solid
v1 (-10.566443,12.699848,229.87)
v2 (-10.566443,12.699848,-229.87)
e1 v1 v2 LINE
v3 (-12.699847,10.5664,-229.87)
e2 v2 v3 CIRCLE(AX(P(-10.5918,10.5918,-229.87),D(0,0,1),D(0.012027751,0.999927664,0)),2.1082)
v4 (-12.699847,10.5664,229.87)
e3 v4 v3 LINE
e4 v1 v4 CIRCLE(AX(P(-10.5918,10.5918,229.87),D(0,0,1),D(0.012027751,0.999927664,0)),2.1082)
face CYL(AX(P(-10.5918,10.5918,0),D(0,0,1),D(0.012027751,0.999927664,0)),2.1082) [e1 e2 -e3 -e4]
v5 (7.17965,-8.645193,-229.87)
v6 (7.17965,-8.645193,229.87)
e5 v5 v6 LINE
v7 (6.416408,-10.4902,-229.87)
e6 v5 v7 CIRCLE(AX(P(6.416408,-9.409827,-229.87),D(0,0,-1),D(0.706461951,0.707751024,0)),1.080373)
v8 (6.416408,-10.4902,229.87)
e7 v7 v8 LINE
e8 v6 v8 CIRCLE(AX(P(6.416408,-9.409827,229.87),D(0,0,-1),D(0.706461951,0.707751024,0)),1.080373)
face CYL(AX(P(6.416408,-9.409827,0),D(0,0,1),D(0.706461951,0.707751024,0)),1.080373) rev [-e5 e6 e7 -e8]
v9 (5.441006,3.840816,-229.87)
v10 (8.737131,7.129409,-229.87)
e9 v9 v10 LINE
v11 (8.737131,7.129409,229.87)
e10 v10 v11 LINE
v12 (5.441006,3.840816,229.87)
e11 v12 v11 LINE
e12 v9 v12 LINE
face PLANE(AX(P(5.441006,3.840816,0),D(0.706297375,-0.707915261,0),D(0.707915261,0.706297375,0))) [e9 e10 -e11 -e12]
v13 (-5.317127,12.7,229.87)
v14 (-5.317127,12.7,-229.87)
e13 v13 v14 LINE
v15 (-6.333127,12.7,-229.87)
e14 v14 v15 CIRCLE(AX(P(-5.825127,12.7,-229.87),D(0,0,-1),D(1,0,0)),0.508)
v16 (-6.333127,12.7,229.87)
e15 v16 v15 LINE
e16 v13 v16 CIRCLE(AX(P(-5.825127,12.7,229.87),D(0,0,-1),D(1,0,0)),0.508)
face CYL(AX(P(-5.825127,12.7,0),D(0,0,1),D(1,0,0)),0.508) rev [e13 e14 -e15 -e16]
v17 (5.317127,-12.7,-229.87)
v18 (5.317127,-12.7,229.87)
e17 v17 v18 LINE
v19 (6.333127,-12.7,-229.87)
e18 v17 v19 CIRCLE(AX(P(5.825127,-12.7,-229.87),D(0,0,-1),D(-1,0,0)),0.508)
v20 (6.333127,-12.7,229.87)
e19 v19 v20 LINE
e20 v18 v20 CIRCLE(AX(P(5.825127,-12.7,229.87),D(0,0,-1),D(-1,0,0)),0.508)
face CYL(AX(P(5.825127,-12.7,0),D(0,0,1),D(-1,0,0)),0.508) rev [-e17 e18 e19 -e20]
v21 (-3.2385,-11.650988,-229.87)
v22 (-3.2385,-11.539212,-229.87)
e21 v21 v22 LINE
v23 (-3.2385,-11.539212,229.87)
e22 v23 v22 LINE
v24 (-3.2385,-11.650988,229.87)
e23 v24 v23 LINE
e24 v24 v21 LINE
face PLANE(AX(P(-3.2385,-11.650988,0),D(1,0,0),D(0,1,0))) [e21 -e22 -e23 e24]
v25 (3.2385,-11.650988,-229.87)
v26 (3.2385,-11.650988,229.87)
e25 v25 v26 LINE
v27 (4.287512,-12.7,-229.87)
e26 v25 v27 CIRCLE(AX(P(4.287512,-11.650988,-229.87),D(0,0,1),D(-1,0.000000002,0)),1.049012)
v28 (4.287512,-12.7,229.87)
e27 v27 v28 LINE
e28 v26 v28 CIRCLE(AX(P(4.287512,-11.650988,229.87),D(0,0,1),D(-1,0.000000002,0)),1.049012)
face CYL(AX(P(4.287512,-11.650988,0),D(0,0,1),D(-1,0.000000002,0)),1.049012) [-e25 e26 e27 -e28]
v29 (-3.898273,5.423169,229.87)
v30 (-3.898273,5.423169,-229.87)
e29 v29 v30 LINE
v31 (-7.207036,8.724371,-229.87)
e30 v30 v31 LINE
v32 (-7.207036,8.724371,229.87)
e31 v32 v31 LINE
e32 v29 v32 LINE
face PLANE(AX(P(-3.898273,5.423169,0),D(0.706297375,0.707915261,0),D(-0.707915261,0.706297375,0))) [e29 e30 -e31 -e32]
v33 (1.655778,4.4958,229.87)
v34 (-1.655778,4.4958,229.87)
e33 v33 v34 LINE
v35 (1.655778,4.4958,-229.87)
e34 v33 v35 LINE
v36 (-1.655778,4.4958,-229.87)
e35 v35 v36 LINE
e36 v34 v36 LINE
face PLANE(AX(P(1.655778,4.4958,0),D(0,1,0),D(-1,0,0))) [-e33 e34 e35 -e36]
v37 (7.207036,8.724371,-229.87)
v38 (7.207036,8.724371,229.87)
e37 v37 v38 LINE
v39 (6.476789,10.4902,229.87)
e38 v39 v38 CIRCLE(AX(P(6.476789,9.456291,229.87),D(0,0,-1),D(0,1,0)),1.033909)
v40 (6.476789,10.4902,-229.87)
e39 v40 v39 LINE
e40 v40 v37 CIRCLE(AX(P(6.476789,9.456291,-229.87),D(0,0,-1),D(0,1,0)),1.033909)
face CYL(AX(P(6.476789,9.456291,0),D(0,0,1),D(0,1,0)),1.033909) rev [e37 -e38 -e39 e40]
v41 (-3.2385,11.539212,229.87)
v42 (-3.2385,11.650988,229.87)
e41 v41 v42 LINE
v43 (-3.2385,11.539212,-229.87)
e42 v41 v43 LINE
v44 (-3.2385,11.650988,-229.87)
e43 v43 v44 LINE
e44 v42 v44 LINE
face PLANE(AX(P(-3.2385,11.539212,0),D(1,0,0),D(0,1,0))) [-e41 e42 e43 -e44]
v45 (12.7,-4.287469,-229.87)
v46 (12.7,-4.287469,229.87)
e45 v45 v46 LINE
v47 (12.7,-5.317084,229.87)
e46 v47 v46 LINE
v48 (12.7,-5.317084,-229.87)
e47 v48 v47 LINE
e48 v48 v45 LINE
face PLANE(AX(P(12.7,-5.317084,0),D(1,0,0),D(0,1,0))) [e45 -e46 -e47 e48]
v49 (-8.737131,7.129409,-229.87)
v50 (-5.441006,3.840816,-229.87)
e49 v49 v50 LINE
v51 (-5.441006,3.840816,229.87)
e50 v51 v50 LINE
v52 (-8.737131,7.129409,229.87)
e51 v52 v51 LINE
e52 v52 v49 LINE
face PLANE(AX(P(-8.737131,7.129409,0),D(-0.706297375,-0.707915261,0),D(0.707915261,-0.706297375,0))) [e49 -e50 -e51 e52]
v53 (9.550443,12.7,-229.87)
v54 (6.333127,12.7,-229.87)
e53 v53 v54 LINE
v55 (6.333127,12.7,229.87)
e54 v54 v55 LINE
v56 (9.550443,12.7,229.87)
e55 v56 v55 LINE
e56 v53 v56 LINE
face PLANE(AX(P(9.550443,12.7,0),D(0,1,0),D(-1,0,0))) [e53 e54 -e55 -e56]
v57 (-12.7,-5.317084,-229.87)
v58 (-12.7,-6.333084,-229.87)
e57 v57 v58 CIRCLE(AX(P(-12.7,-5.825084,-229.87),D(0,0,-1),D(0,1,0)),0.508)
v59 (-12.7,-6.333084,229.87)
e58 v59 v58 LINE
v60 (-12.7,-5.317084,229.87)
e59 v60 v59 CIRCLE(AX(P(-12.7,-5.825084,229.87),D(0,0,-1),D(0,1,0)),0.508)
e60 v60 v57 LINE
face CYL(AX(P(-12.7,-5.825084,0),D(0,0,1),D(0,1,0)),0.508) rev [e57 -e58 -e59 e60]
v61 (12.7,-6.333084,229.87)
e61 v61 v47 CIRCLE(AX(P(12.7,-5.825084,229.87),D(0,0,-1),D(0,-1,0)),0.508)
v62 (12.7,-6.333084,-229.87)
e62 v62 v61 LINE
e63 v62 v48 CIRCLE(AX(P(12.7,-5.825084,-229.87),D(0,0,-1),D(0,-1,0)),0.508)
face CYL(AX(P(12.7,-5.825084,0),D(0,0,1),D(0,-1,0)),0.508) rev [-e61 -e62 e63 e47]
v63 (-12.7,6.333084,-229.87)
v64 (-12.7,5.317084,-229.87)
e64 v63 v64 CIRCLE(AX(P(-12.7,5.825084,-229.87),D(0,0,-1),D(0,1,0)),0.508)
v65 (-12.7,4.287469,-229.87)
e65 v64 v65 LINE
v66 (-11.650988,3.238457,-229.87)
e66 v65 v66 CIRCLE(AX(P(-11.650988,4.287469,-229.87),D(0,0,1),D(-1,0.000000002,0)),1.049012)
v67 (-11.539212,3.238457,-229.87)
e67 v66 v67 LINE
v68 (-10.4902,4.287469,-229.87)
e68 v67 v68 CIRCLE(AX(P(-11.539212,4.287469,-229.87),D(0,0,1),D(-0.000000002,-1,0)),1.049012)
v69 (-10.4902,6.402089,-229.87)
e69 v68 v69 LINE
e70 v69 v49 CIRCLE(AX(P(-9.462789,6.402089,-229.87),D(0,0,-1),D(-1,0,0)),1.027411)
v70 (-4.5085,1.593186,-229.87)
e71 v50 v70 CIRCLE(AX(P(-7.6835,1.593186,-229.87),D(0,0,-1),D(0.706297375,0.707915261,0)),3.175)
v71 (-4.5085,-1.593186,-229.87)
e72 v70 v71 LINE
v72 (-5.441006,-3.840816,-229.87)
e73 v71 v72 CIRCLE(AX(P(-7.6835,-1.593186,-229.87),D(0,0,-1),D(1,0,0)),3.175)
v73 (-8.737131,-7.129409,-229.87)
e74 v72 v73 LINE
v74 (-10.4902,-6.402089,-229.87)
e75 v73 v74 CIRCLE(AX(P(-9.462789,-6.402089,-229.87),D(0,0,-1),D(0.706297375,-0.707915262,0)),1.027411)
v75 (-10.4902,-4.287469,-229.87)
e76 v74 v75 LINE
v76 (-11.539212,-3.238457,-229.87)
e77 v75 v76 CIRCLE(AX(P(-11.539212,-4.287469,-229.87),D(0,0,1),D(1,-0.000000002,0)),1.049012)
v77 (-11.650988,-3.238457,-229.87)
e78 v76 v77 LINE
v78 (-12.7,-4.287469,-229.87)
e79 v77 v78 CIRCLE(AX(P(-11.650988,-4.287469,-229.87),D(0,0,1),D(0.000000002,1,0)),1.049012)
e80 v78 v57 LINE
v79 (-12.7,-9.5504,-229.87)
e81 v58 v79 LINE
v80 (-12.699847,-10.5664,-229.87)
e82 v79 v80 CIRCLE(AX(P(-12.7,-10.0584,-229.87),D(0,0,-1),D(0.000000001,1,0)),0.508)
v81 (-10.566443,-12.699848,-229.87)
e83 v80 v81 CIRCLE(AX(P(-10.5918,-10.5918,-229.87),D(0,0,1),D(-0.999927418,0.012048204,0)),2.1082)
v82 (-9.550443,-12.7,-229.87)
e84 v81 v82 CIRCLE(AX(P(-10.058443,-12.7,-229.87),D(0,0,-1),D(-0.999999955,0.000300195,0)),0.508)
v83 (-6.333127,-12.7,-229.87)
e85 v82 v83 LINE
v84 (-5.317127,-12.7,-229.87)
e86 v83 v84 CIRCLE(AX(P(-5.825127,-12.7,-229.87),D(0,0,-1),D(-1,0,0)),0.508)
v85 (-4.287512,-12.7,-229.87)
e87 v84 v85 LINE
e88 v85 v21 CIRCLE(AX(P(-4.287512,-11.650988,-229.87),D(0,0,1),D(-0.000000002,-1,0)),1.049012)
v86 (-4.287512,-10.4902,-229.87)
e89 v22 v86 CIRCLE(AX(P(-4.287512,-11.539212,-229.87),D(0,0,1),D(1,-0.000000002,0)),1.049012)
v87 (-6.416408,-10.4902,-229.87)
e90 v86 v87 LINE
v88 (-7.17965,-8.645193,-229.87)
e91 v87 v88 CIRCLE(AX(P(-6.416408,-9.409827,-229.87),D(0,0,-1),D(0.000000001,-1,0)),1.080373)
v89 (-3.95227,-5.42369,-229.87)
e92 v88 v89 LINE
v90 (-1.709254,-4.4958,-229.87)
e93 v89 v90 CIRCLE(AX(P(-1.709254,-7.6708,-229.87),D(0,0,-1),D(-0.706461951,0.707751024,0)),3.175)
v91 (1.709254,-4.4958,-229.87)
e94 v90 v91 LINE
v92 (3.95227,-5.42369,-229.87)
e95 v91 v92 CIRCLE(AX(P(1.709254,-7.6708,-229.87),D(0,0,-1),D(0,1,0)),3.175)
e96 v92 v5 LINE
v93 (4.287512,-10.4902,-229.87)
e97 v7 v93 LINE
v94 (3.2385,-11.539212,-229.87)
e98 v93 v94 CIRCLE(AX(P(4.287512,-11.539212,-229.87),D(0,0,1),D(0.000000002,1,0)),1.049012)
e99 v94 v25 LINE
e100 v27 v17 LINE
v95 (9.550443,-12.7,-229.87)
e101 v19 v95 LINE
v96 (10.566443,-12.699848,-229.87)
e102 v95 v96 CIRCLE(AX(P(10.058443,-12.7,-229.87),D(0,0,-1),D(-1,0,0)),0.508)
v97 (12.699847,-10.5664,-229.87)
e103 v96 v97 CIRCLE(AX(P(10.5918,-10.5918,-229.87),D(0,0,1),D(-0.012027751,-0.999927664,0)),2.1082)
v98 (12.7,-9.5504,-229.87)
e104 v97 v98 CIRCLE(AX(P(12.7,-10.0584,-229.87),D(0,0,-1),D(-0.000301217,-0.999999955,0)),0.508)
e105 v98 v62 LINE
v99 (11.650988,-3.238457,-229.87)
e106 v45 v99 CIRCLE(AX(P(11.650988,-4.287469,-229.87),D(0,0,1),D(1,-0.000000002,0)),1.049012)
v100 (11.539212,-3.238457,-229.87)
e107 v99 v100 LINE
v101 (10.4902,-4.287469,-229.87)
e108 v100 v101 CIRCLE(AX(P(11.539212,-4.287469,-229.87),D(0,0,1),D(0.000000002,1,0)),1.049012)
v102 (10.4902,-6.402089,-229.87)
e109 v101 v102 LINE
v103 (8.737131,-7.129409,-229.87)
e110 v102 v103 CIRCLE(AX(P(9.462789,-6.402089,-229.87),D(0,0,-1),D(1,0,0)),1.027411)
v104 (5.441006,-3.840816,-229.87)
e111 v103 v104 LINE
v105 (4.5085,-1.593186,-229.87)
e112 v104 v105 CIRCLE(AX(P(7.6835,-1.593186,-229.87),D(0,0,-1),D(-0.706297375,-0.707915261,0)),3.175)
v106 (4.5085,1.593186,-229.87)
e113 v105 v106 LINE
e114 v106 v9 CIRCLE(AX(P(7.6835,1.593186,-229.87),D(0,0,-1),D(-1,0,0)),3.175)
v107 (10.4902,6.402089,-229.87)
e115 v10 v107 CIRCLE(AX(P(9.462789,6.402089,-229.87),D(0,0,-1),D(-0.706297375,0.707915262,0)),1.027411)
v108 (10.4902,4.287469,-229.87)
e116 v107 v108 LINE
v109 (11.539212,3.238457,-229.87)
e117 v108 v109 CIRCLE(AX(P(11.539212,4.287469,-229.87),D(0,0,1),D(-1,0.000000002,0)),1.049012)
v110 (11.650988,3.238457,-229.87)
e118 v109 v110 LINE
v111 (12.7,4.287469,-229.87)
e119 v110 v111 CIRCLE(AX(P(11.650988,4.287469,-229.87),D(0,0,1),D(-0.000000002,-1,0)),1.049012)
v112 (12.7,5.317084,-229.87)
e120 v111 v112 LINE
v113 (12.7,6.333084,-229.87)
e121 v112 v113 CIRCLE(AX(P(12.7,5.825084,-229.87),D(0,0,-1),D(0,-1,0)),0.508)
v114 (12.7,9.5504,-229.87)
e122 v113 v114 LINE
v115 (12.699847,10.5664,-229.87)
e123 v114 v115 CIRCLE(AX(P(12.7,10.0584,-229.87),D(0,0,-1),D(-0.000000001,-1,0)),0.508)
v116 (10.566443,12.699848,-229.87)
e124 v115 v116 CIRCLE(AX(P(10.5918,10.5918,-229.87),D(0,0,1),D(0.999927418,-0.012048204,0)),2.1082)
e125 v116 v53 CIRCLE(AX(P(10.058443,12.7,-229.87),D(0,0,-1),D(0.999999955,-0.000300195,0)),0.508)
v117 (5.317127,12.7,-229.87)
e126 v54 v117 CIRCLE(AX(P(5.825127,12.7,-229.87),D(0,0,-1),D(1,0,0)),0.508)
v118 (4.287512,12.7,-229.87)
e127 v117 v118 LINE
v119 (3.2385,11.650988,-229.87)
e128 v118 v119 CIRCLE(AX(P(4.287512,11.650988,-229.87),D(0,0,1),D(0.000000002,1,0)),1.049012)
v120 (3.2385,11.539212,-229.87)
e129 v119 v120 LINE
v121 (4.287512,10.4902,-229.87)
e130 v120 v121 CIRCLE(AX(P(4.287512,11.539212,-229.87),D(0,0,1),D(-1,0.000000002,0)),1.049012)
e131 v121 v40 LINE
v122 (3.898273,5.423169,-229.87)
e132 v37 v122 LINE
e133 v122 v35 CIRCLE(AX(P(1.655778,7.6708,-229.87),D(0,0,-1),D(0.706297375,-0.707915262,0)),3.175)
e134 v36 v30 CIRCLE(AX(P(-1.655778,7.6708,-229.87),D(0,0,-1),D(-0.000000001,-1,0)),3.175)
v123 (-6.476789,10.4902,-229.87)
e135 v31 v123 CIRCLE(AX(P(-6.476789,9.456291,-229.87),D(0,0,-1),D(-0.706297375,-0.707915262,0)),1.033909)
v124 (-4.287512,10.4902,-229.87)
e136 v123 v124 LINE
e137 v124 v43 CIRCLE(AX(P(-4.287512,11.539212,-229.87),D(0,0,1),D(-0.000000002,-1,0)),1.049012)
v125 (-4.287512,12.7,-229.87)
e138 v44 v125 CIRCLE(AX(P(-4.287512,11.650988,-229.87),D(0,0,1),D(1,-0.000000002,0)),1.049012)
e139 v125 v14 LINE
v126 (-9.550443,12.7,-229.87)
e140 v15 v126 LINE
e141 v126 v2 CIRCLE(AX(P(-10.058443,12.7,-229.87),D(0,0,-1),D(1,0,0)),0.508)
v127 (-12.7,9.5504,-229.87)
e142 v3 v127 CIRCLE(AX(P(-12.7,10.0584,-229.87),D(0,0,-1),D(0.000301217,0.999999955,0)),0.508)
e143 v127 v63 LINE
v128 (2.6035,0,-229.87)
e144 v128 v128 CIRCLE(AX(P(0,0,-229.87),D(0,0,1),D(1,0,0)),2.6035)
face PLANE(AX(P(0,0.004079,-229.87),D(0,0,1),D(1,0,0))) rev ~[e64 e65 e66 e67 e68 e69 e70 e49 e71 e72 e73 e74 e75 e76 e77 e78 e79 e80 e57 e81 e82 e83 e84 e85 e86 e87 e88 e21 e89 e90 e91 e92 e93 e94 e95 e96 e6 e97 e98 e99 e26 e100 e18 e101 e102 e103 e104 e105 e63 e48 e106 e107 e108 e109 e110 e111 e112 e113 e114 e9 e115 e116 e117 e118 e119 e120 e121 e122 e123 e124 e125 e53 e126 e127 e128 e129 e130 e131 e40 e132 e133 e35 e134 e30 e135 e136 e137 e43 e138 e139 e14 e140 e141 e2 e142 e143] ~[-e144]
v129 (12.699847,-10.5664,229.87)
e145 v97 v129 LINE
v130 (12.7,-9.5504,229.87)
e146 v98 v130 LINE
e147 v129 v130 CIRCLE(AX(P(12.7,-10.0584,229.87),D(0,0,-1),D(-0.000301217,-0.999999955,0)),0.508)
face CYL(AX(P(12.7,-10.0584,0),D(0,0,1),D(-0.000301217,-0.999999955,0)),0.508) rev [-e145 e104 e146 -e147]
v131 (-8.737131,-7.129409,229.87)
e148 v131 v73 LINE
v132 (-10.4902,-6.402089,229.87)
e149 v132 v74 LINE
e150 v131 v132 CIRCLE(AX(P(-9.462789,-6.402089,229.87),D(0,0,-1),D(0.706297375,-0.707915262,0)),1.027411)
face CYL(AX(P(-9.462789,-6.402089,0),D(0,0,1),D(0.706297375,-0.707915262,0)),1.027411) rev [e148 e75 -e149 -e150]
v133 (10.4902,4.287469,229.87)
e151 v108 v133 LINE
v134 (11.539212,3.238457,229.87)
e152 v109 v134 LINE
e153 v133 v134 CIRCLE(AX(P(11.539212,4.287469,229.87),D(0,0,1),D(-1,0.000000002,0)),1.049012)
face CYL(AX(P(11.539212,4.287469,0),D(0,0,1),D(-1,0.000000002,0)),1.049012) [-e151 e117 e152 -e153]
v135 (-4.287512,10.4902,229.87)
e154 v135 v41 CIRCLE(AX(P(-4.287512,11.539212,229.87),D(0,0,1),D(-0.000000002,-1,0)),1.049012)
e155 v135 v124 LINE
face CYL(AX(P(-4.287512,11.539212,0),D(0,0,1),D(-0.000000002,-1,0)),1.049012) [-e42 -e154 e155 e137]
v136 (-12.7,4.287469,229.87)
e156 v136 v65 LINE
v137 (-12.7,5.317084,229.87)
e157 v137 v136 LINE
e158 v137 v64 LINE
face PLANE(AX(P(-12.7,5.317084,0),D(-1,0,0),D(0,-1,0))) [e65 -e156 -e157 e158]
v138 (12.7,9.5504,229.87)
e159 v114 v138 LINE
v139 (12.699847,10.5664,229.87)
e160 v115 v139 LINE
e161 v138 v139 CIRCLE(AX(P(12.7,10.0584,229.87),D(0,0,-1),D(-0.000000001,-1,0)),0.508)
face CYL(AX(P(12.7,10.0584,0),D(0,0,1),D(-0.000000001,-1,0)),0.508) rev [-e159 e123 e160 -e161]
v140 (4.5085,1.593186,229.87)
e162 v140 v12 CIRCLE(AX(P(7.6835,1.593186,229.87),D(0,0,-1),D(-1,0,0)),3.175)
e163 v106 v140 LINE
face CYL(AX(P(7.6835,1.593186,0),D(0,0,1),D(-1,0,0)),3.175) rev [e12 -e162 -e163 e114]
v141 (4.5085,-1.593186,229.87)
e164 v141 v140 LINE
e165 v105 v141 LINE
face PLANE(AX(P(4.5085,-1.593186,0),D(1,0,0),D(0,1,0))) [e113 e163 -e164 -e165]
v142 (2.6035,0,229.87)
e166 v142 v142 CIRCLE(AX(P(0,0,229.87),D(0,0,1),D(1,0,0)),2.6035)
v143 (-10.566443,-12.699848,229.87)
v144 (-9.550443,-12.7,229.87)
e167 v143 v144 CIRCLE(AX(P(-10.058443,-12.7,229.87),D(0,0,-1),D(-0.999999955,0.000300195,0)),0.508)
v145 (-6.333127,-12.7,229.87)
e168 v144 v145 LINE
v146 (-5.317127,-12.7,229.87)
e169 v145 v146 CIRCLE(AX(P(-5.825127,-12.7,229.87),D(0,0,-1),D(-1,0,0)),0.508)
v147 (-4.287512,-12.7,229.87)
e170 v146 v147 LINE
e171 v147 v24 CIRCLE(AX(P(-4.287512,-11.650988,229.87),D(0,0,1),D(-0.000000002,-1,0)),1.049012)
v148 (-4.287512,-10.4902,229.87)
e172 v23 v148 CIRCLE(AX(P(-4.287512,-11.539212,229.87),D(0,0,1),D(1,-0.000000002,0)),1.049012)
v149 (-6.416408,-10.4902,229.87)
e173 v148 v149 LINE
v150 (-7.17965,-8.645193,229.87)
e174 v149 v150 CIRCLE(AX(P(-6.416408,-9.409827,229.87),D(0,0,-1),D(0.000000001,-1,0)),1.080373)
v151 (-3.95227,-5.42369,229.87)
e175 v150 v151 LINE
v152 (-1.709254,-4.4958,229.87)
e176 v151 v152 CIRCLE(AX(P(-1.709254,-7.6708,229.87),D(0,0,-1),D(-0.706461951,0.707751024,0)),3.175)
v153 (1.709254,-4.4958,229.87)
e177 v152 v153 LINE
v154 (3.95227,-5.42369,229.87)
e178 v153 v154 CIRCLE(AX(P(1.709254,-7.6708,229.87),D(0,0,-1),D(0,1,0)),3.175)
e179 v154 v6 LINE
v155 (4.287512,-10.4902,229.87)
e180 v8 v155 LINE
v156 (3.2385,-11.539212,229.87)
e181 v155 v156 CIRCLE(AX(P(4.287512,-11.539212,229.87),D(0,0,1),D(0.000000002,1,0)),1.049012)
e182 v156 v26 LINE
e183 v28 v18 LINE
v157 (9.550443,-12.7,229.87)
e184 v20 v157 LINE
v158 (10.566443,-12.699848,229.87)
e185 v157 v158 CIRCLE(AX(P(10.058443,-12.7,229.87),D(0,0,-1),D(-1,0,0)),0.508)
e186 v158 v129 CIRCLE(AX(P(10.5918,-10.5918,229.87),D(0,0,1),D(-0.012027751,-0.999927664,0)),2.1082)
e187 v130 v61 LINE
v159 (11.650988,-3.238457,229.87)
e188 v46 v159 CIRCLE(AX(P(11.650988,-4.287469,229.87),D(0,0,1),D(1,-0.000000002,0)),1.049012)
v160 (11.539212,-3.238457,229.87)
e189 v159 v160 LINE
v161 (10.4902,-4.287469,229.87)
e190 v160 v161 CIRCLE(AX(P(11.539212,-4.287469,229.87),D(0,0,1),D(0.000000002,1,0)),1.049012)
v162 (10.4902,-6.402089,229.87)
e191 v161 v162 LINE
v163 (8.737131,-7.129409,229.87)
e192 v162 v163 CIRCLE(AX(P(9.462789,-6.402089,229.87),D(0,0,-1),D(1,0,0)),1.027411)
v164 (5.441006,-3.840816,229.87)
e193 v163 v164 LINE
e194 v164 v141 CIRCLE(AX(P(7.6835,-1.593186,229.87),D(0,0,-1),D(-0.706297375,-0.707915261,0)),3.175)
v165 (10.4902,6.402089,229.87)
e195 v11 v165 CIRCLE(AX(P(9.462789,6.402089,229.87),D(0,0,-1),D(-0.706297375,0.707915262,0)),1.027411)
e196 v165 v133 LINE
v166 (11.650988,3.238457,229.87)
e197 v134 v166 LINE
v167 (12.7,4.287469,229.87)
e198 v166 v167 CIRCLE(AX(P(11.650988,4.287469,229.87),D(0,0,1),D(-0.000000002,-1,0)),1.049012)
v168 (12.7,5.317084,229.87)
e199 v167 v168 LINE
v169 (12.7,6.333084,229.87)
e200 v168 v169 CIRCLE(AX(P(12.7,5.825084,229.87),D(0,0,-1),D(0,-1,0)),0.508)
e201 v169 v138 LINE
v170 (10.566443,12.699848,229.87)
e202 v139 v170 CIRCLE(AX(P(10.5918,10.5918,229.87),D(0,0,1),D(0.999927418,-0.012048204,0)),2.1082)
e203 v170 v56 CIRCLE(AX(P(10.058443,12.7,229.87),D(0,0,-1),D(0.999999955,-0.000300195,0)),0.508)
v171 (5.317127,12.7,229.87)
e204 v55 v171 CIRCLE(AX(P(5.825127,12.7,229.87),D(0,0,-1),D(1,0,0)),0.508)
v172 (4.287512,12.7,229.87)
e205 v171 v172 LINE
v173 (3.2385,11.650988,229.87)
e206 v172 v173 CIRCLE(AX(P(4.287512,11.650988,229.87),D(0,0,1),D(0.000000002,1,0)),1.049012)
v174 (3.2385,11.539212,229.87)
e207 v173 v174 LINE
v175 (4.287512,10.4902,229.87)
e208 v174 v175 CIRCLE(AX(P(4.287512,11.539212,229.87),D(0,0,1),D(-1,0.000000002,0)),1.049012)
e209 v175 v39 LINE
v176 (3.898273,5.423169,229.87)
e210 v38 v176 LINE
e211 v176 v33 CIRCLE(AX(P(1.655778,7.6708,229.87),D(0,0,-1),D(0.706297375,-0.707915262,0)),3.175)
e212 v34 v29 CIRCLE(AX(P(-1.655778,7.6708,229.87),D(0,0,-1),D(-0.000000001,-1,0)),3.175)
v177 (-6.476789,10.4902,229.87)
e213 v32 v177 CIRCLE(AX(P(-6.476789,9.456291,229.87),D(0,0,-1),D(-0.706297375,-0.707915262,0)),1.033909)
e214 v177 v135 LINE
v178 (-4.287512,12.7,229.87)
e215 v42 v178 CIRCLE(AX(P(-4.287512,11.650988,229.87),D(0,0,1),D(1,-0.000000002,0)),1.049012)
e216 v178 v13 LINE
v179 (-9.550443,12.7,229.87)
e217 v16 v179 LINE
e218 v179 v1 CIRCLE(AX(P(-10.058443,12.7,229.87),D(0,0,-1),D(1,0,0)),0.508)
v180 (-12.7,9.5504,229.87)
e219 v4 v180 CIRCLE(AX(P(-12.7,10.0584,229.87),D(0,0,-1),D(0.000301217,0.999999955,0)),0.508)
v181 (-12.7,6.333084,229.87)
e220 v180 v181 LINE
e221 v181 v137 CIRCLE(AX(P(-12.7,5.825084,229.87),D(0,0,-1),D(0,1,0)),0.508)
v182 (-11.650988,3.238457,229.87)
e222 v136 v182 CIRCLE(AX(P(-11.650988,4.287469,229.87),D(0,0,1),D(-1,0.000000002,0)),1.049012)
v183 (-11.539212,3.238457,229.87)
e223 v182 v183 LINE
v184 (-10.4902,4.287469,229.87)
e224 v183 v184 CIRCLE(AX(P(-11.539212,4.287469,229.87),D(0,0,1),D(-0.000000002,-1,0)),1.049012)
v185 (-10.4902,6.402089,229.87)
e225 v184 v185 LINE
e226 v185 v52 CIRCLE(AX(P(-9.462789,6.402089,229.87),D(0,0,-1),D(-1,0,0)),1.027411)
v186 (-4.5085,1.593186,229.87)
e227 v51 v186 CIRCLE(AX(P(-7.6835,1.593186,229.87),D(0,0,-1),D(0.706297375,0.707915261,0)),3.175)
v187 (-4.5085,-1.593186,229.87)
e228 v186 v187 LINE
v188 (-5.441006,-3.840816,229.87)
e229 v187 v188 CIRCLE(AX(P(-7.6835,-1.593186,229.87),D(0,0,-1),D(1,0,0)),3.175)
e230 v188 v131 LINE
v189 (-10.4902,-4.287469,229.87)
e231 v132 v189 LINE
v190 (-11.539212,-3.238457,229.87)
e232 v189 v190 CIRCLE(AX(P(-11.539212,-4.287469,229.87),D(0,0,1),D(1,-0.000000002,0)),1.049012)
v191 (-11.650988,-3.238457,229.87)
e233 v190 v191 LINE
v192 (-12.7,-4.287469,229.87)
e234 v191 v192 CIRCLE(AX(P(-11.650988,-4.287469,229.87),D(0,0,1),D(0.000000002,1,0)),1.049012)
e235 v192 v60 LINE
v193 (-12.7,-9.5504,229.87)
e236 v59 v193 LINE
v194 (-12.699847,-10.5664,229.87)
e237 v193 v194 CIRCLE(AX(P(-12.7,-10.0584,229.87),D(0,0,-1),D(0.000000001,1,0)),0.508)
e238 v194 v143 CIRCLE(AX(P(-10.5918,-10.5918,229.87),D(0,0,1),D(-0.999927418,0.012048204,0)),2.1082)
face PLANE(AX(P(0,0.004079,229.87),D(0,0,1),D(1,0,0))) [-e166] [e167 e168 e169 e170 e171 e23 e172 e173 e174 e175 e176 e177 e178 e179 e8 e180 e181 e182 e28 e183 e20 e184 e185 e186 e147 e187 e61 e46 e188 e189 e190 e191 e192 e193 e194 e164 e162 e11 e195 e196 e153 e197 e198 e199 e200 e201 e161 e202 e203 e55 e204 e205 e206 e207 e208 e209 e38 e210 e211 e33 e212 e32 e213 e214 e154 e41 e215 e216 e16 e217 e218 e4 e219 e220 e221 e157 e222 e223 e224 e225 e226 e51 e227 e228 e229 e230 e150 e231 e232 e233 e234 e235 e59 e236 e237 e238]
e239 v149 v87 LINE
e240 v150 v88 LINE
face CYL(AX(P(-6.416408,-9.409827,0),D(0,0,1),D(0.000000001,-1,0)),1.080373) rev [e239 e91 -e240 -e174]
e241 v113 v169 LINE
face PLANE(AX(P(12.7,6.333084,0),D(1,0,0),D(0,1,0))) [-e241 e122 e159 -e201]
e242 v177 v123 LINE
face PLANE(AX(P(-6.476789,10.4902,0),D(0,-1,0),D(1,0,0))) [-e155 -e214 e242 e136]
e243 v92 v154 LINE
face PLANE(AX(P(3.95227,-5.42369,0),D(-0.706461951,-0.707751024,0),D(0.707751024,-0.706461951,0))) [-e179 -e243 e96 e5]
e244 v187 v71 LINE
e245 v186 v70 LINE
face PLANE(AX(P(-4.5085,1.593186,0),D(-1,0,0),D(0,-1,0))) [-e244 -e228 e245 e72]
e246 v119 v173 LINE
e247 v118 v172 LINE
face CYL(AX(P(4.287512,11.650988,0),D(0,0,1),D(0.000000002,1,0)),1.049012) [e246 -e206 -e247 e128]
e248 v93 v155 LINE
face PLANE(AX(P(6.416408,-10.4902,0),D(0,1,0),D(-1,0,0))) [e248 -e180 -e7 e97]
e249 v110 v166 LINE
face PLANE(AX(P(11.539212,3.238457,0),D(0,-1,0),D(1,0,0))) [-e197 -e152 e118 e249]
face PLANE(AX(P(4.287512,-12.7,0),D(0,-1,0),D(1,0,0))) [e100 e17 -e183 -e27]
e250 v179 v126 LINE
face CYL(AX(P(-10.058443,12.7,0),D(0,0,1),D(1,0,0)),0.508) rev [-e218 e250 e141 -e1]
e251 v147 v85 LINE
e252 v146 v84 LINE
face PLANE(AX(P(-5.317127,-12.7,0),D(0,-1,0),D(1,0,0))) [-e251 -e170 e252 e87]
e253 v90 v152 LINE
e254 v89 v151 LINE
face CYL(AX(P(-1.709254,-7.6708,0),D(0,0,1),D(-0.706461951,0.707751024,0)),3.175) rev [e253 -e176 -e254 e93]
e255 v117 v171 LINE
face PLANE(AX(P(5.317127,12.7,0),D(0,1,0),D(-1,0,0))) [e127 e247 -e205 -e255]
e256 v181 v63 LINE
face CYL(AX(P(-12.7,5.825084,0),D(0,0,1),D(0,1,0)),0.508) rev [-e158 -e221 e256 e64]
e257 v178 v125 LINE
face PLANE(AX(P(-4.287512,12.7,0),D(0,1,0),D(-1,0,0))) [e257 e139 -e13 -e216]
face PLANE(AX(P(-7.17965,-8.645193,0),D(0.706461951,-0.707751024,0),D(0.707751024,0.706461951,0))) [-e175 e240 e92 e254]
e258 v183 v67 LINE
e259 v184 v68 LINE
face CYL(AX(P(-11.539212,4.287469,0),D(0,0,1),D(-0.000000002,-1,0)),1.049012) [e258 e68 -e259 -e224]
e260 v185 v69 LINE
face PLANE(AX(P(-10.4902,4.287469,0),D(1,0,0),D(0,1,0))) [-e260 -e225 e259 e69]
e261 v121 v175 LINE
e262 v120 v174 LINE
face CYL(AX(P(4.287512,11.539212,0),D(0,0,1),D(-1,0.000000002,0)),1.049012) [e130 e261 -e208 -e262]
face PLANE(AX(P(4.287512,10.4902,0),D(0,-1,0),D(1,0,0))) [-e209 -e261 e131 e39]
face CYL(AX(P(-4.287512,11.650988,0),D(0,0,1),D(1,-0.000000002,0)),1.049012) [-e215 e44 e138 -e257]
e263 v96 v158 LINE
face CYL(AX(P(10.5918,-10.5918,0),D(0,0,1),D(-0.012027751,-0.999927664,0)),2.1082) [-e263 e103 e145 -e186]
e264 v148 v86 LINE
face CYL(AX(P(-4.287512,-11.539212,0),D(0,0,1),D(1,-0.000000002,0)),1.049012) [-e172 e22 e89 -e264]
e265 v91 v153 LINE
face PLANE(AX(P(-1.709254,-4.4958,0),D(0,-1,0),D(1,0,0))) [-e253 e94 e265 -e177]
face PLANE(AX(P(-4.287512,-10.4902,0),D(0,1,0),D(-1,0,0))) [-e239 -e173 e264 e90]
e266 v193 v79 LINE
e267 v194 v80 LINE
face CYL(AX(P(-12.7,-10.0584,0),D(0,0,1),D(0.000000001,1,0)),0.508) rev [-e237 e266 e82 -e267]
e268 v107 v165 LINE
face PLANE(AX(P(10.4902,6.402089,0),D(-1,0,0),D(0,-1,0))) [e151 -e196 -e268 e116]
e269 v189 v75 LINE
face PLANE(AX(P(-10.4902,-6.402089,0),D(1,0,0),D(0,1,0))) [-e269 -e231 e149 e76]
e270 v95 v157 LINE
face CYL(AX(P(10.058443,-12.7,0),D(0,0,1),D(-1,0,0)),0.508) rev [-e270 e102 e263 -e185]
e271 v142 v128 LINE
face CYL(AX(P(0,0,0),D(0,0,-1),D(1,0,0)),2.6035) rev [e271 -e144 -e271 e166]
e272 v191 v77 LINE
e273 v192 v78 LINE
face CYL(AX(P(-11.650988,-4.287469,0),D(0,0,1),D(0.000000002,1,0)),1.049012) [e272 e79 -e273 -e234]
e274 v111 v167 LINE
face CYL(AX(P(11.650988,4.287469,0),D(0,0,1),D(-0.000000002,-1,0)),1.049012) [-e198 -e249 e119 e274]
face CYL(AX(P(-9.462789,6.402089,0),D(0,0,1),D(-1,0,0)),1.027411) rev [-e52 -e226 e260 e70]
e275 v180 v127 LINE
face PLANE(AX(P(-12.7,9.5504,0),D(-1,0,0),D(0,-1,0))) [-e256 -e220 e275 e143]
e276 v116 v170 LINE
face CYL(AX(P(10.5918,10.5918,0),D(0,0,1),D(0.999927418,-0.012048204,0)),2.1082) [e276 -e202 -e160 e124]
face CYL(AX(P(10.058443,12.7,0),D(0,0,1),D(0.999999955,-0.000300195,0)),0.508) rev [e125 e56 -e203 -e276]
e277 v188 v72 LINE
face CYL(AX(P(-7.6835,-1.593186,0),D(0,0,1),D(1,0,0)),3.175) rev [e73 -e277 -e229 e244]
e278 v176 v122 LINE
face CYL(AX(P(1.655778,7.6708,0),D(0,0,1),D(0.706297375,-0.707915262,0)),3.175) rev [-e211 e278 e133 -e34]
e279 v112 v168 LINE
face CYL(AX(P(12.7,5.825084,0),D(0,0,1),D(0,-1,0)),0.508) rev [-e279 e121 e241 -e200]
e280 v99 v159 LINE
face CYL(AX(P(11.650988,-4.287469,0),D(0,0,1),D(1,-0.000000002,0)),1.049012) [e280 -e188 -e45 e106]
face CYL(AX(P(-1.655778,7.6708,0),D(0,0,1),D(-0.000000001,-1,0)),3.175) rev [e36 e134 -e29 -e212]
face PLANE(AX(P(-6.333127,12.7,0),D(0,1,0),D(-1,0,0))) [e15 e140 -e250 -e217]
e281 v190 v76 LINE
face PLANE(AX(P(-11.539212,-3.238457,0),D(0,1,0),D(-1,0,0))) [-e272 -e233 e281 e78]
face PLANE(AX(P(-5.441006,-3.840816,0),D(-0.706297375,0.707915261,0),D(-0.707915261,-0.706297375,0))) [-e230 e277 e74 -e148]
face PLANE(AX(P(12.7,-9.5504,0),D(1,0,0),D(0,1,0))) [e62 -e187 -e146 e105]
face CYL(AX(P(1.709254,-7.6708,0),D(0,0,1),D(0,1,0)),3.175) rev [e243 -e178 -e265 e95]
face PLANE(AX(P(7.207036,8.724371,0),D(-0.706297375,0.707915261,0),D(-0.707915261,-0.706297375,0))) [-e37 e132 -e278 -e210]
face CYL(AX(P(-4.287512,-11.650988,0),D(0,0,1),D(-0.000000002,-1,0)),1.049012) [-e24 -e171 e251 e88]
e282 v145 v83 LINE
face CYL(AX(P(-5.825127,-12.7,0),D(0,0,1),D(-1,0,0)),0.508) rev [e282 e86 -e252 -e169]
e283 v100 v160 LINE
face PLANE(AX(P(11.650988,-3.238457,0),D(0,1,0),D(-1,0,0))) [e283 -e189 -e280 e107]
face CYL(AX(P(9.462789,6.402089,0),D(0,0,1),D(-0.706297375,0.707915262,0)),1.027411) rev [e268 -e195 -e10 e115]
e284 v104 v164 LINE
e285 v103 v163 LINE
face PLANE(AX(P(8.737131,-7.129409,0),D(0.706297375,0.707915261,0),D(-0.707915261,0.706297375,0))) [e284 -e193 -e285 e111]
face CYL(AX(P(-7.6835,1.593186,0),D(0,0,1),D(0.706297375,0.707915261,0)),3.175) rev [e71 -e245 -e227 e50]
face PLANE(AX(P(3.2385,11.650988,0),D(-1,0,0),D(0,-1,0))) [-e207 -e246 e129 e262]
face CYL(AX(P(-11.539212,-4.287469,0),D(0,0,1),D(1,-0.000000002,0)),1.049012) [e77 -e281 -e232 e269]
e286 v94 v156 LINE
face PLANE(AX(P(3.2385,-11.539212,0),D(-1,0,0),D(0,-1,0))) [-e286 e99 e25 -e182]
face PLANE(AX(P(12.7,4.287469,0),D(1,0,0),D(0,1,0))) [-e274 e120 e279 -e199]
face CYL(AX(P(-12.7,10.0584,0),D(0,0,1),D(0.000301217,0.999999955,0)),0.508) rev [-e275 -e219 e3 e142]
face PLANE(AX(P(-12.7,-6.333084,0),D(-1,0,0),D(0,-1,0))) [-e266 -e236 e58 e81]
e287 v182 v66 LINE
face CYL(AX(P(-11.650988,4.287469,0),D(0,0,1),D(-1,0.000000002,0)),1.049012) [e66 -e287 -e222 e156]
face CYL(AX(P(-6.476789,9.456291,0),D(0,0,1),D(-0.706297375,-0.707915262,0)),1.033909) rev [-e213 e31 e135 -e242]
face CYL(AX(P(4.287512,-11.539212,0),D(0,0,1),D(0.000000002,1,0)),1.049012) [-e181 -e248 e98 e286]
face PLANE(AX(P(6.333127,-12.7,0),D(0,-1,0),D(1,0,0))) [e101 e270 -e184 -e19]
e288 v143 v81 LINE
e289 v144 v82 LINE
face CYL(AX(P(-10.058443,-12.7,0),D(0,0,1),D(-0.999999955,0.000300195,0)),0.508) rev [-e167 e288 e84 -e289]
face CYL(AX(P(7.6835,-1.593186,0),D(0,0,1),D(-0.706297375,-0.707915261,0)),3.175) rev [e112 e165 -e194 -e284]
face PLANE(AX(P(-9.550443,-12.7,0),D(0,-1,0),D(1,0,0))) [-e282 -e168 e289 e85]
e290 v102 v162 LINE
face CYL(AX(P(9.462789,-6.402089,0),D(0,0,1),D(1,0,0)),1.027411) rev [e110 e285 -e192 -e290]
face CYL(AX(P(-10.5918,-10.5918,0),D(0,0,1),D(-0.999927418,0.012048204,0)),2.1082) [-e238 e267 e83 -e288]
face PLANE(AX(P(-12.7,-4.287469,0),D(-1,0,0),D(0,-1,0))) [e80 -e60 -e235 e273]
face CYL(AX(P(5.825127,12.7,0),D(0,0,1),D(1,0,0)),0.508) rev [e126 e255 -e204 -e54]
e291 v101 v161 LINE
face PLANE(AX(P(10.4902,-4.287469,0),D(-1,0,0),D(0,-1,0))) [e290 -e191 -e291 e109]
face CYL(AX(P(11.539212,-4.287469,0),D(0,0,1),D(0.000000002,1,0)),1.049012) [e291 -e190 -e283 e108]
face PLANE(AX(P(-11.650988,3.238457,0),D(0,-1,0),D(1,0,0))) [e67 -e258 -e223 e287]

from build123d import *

# Parameters (mm, degrees)
SKETCH1_R           = 2.6035
BOSS_EXTRUDE1_DEPTH = 229.87


with BuildPart() as part:
    # Sketch1 → Boss-Extrude1 (new body, symmetric)
    with BuildSketch(Plane.XY):
        with BuildLine():
            Line((-7.179650497, -8.645192506), (-3.952270251, -5.423690499))
            ThreePointArc((-3.952270251, -5.423690499), (-2.922936451, -4.736929036), (-1.709253557, -4.4958))
            Line((-1.709253557, -4.4958), (1.709253557, -4.4958))
            ThreePointArc((1.709253557, -4.4958), (2.922936451, -4.736929036), (3.952270251, -5.423690499))
            Line((3.952270251, -5.423690499), (7.179650497, -8.645192506))
            ThreePointArc((7.179650497, -8.645192506), (7.41473083, -9.822813117), (6.416408329, -10.4902))
            Line((6.416408329, -10.4902), (4.287512407, -10.4902))
            ThreePointArc((4.287512407, -10.4902), (3.54574862, -10.79744862), (3.2385, -11.539212407))
            Line((3.2385, -11.539212407), (3.2385, -11.650987593))
            ThreePointArc((3.2385, -11.650987593), (3.54574862, -12.39275138), (4.287512407, -12.7))
            Line((4.287512407, -12.7), (5.317126718, -12.7))
            ThreePointArc((5.317126718, -12.7), (5.825126718, -12.192), (6.333126718, -12.7))
            Line((6.333126718, -12.7), (9.550443118, -12.7))
            ThreePointArc((9.550443118, -12.7), (10.058366869, -12.192000006), (10.566443095, -12.699847501))
            ThreePointArc((10.566443095, -12.699847501), (12.082537762, -12.08250727), (12.699846982, -10.566399977))
            ThreePointArc((12.699846982, -10.566399977), (12.192000006, -10.058323491), (12.7, -9.5504))
            Line((12.7, -9.5504), (12.7, -6.3330836))
            ThreePointArc((12.7, -6.3330836), (12.192, -5.8250836), (12.7, -5.3170836))
            Line((12.7, -5.3170836), (12.7, -4.287469289))
            ThreePointArc((12.7, -4.287469289), (12.39275138, -3.545705502), (11.650987593, -3.238456882))
            Line((11.650987593, -3.238456882), (11.539212407, -3.238456882))
            ThreePointArc((11.539212407, -3.238456882), (10.79744862, -3.545705502), (10.4902, -4.287469289))
            Line((10.4902, -4.287469289), (10.4902, -6.402089023))
            ThreePointArc((10.4902, -6.402089023), (9.856505071, -7.351067942), (8.737131347, -7.129408934))
            Line((8.737131347, -7.129408934), (5.441005833, -3.840816462))
            ThreePointArc((5.441005833, -3.840816462), (4.750877967, -2.809883091), (4.5085, -1.593185507))
            Line((4.5085, -1.593185507), (4.5085, 1.593185507))
            ThreePointArc((4.5085, 1.593185507), (4.750877967, 2.809883091), (5.441005833, 3.840816462))
            Line((5.441005833, 3.840816462), (8.737131347, 7.129408934))
            ThreePointArc((8.737131347, 7.129408934), (9.856505071, 7.351067942), (10.4902, 6.402089023))
            Line((10.4902, 6.402089023), (10.4902, 4.287469289))
            ThreePointArc((10.4902, 4.287469289), (10.79744862, 3.545705502), (11.539212407, 3.238456882))
            Line((11.539212407, 3.238456882), (11.650987593, 3.238456882))
            ThreePointArc((11.650987593, 3.238456882), (12.39275138, 3.545705502), (12.7, 4.287469289))
            Line((12.7, 4.287469289), (12.7, 5.3170836))
            ThreePointArc((12.7, 5.3170836), (12.192, 5.8250836), (12.7, 6.3330836))
            Line((12.7, 6.3330836), (12.7, 9.5504))
            ThreePointArc((12.7, 9.5504), (12.192000006, 10.058323491), (12.699846982, 10.566399977))
            ThreePointArc((12.699846982, 10.566399977), (12.082537762, 12.08250727), (10.566443095, 12.699847501))
            ThreePointArc((10.566443095, 12.699847501), (10.058366869, 12.192000006), (9.550443118, 12.7))
            Line((9.550443118, 12.7), (6.333126718, 12.7))
            ThreePointArc((6.333126718, 12.7), (5.825126718, 12.192), (5.317126718, 12.7))
            Line((5.317126718, 12.7), (4.287512407, 12.7))
            ThreePointArc((4.287512407, 12.7), (3.54574862, 12.39275138), (3.2385, 11.650987593))
            Line((3.2385, 11.650987593), (3.2385, 11.539212407))
            ThreePointArc((3.2385, 11.539212407), (3.54574862, 10.79744862), (4.287512407, 10.4902))
            Line((4.287512407, 10.4902), (6.476788598, 10.4902))
            ThreePointArc((6.476788598, 10.4902), (7.432222385, 9.85140422), (7.207036008, 8.724370562))
            Line((7.207036008, 8.724370562), (3.898272566, 5.423169045))
            ThreePointArc((3.898272566, 5.423169045), (2.869120213, 4.736787962), (1.655778399, 4.4958))
            Line((1.655778399, 4.4958), (-1.655778399, 4.4958))
            ThreePointArc((-1.655778399, 4.4958), (-2.869120213, 4.736787962), (-3.898272566, 5.423169045))
            Line((-3.898272566, 5.423169045), (-7.207036008, 8.724370562))
            ThreePointArc((-7.207036008, 8.724370562), (-7.432222385, 9.85140422), (-6.476788598, 10.4902))
            Line((-6.476788598, 10.4902), (-4.287512407, 10.4902))
            ThreePointArc((-4.287512407, 10.4902), (-3.54574862, 10.79744862), (-3.2385, 11.539212407))
            Line((-3.2385, 11.539212407), (-3.2385, 11.650987593))
            ThreePointArc((-3.2385, 11.650987593), (-3.54574862, 12.39275138), (-4.287512407, 12.7))
            Line((-4.287512407, 12.7), (-5.317126718, 12.7))
            ThreePointArc((-5.317126718, 12.7), (-5.825126718, 12.192), (-6.333126718, 12.7))
            Line((-6.333126718, 12.7), (-9.550443118, 12.7))
            ThreePointArc((-9.550443118, 12.7), (-10.058366869, 12.192000006), (-10.566443095, 12.699847501))
            ThreePointArc((-10.566443095, 12.699847501), (-12.082537762, 12.08250727), (-12.699846982, 10.566399977))
            ThreePointArc((-12.699846982, 10.566399977), (-12.192000006, 10.058323491), (-12.7, 9.5504))
            Line((-12.7, 9.5504), (-12.7, 6.3330836))
            ThreePointArc((-12.7, 6.3330836), (-12.192, 5.8250836), (-12.7, 5.3170836))
            Line((-12.7, 5.3170836), (-12.7, 4.287469289))
            ThreePointArc((-12.7, 4.287469289), (-12.39275138, 3.545705502), (-11.650987593, 3.238456882))
            Line((-11.650987593, 3.238456882), (-11.539212407, 3.238456882))
            ThreePointArc((-11.539212407, 3.238456882), (-10.79744862, 3.545705502), (-10.4902, 4.287469289))
            Line((-10.4902, 4.287469289), (-10.4902, 6.402089023))
            ThreePointArc((-10.4902, 6.402089023), (-9.856505071, 7.351067942), (-8.737131347, 7.129408934))
            Line((-8.737131347, 7.129408934), (-5.441005833, 3.840816462))
            ThreePointArc((-5.441005833, 3.840816462), (-4.750877967, 2.809883091), (-4.5085, 1.593185507))
            Line((-4.5085, 1.593185507), (-4.5085, -1.593185507))
            ThreePointArc((-4.5085, -1.593185507), (-4.750877967, -2.809883091), (-5.441005833, -3.840816462))
            Line((-5.441005833, -3.840816462), (-8.737131347, -7.129408934))
            ThreePointArc((-8.737131347, -7.129408934), (-9.856505071, -7.351067942), (-10.4902, -6.402089023))
            Line((-10.4902, -6.402089023), (-10.4902, -4.287469289))
            ThreePointArc((-10.4902, -4.287469289), (-10.79744862, -3.545705502), (-11.539212407, -3.238456882))
            Line((-11.539212407, -3.238456882), (-11.650987593, -3.238456882))
            ThreePointArc((-11.650987593, -3.238456882), (-12.39275138, -3.545705502), (-12.7, -4.287469289))
            Line((-12.7, -4.287469289), (-12.7, -5.3170836))
            ThreePointArc((-12.7, -5.3170836), (-12.192, -5.8250836), (-12.7, -6.3330836))
            Line((-12.7, -6.3330836), (-12.7, -9.5504))
            ThreePointArc((-12.7, -9.5504), (-12.192000006, -10.058323491), (-12.699846982, -10.566399977))
            ThreePointArc((-12.699846982, -10.566399977), (-12.082537762, -12.08250727), (-10.566443095, -12.699847501))
            ThreePointArc((-10.566443095, -12.699847501), (-10.058366869, -12.192000006), (-9.550443118, -12.7))
            Line((-9.550443118, -12.7), (-6.333126718, -12.7))
            ThreePointArc((-6.333126718, -12.7), (-5.825126718, -12.192), (-5.317126718, -12.7))
            Line((-5.317126718, -12.7), (-4.287512407, -12.7))
            ThreePointArc((-4.287512407, -12.7), (-3.54574862, -12.39275138), (-3.2385, -11.650987593))
            Line((-3.2385, -11.650987593), (-3.2385, -11.539212407))
            ThreePointArc((-3.2385, -11.539212407), (-3.54574862, -10.79744862), (-4.287512407, -10.4902))
            Line((-4.287512407, -10.4902), (-6.416408329, -10.4902))
            ThreePointArc((-6.416408329, -10.4902), (-7.41473083, -9.822813117), (-7.179650497, -8.645192506))
        make_face()
        Circle(SKETCH1_R, mode=Mode.SUBTRACT)
    extrude(amount=BOSS_EXTRUDE1_DEPTH, both=True)


solid = part.part
